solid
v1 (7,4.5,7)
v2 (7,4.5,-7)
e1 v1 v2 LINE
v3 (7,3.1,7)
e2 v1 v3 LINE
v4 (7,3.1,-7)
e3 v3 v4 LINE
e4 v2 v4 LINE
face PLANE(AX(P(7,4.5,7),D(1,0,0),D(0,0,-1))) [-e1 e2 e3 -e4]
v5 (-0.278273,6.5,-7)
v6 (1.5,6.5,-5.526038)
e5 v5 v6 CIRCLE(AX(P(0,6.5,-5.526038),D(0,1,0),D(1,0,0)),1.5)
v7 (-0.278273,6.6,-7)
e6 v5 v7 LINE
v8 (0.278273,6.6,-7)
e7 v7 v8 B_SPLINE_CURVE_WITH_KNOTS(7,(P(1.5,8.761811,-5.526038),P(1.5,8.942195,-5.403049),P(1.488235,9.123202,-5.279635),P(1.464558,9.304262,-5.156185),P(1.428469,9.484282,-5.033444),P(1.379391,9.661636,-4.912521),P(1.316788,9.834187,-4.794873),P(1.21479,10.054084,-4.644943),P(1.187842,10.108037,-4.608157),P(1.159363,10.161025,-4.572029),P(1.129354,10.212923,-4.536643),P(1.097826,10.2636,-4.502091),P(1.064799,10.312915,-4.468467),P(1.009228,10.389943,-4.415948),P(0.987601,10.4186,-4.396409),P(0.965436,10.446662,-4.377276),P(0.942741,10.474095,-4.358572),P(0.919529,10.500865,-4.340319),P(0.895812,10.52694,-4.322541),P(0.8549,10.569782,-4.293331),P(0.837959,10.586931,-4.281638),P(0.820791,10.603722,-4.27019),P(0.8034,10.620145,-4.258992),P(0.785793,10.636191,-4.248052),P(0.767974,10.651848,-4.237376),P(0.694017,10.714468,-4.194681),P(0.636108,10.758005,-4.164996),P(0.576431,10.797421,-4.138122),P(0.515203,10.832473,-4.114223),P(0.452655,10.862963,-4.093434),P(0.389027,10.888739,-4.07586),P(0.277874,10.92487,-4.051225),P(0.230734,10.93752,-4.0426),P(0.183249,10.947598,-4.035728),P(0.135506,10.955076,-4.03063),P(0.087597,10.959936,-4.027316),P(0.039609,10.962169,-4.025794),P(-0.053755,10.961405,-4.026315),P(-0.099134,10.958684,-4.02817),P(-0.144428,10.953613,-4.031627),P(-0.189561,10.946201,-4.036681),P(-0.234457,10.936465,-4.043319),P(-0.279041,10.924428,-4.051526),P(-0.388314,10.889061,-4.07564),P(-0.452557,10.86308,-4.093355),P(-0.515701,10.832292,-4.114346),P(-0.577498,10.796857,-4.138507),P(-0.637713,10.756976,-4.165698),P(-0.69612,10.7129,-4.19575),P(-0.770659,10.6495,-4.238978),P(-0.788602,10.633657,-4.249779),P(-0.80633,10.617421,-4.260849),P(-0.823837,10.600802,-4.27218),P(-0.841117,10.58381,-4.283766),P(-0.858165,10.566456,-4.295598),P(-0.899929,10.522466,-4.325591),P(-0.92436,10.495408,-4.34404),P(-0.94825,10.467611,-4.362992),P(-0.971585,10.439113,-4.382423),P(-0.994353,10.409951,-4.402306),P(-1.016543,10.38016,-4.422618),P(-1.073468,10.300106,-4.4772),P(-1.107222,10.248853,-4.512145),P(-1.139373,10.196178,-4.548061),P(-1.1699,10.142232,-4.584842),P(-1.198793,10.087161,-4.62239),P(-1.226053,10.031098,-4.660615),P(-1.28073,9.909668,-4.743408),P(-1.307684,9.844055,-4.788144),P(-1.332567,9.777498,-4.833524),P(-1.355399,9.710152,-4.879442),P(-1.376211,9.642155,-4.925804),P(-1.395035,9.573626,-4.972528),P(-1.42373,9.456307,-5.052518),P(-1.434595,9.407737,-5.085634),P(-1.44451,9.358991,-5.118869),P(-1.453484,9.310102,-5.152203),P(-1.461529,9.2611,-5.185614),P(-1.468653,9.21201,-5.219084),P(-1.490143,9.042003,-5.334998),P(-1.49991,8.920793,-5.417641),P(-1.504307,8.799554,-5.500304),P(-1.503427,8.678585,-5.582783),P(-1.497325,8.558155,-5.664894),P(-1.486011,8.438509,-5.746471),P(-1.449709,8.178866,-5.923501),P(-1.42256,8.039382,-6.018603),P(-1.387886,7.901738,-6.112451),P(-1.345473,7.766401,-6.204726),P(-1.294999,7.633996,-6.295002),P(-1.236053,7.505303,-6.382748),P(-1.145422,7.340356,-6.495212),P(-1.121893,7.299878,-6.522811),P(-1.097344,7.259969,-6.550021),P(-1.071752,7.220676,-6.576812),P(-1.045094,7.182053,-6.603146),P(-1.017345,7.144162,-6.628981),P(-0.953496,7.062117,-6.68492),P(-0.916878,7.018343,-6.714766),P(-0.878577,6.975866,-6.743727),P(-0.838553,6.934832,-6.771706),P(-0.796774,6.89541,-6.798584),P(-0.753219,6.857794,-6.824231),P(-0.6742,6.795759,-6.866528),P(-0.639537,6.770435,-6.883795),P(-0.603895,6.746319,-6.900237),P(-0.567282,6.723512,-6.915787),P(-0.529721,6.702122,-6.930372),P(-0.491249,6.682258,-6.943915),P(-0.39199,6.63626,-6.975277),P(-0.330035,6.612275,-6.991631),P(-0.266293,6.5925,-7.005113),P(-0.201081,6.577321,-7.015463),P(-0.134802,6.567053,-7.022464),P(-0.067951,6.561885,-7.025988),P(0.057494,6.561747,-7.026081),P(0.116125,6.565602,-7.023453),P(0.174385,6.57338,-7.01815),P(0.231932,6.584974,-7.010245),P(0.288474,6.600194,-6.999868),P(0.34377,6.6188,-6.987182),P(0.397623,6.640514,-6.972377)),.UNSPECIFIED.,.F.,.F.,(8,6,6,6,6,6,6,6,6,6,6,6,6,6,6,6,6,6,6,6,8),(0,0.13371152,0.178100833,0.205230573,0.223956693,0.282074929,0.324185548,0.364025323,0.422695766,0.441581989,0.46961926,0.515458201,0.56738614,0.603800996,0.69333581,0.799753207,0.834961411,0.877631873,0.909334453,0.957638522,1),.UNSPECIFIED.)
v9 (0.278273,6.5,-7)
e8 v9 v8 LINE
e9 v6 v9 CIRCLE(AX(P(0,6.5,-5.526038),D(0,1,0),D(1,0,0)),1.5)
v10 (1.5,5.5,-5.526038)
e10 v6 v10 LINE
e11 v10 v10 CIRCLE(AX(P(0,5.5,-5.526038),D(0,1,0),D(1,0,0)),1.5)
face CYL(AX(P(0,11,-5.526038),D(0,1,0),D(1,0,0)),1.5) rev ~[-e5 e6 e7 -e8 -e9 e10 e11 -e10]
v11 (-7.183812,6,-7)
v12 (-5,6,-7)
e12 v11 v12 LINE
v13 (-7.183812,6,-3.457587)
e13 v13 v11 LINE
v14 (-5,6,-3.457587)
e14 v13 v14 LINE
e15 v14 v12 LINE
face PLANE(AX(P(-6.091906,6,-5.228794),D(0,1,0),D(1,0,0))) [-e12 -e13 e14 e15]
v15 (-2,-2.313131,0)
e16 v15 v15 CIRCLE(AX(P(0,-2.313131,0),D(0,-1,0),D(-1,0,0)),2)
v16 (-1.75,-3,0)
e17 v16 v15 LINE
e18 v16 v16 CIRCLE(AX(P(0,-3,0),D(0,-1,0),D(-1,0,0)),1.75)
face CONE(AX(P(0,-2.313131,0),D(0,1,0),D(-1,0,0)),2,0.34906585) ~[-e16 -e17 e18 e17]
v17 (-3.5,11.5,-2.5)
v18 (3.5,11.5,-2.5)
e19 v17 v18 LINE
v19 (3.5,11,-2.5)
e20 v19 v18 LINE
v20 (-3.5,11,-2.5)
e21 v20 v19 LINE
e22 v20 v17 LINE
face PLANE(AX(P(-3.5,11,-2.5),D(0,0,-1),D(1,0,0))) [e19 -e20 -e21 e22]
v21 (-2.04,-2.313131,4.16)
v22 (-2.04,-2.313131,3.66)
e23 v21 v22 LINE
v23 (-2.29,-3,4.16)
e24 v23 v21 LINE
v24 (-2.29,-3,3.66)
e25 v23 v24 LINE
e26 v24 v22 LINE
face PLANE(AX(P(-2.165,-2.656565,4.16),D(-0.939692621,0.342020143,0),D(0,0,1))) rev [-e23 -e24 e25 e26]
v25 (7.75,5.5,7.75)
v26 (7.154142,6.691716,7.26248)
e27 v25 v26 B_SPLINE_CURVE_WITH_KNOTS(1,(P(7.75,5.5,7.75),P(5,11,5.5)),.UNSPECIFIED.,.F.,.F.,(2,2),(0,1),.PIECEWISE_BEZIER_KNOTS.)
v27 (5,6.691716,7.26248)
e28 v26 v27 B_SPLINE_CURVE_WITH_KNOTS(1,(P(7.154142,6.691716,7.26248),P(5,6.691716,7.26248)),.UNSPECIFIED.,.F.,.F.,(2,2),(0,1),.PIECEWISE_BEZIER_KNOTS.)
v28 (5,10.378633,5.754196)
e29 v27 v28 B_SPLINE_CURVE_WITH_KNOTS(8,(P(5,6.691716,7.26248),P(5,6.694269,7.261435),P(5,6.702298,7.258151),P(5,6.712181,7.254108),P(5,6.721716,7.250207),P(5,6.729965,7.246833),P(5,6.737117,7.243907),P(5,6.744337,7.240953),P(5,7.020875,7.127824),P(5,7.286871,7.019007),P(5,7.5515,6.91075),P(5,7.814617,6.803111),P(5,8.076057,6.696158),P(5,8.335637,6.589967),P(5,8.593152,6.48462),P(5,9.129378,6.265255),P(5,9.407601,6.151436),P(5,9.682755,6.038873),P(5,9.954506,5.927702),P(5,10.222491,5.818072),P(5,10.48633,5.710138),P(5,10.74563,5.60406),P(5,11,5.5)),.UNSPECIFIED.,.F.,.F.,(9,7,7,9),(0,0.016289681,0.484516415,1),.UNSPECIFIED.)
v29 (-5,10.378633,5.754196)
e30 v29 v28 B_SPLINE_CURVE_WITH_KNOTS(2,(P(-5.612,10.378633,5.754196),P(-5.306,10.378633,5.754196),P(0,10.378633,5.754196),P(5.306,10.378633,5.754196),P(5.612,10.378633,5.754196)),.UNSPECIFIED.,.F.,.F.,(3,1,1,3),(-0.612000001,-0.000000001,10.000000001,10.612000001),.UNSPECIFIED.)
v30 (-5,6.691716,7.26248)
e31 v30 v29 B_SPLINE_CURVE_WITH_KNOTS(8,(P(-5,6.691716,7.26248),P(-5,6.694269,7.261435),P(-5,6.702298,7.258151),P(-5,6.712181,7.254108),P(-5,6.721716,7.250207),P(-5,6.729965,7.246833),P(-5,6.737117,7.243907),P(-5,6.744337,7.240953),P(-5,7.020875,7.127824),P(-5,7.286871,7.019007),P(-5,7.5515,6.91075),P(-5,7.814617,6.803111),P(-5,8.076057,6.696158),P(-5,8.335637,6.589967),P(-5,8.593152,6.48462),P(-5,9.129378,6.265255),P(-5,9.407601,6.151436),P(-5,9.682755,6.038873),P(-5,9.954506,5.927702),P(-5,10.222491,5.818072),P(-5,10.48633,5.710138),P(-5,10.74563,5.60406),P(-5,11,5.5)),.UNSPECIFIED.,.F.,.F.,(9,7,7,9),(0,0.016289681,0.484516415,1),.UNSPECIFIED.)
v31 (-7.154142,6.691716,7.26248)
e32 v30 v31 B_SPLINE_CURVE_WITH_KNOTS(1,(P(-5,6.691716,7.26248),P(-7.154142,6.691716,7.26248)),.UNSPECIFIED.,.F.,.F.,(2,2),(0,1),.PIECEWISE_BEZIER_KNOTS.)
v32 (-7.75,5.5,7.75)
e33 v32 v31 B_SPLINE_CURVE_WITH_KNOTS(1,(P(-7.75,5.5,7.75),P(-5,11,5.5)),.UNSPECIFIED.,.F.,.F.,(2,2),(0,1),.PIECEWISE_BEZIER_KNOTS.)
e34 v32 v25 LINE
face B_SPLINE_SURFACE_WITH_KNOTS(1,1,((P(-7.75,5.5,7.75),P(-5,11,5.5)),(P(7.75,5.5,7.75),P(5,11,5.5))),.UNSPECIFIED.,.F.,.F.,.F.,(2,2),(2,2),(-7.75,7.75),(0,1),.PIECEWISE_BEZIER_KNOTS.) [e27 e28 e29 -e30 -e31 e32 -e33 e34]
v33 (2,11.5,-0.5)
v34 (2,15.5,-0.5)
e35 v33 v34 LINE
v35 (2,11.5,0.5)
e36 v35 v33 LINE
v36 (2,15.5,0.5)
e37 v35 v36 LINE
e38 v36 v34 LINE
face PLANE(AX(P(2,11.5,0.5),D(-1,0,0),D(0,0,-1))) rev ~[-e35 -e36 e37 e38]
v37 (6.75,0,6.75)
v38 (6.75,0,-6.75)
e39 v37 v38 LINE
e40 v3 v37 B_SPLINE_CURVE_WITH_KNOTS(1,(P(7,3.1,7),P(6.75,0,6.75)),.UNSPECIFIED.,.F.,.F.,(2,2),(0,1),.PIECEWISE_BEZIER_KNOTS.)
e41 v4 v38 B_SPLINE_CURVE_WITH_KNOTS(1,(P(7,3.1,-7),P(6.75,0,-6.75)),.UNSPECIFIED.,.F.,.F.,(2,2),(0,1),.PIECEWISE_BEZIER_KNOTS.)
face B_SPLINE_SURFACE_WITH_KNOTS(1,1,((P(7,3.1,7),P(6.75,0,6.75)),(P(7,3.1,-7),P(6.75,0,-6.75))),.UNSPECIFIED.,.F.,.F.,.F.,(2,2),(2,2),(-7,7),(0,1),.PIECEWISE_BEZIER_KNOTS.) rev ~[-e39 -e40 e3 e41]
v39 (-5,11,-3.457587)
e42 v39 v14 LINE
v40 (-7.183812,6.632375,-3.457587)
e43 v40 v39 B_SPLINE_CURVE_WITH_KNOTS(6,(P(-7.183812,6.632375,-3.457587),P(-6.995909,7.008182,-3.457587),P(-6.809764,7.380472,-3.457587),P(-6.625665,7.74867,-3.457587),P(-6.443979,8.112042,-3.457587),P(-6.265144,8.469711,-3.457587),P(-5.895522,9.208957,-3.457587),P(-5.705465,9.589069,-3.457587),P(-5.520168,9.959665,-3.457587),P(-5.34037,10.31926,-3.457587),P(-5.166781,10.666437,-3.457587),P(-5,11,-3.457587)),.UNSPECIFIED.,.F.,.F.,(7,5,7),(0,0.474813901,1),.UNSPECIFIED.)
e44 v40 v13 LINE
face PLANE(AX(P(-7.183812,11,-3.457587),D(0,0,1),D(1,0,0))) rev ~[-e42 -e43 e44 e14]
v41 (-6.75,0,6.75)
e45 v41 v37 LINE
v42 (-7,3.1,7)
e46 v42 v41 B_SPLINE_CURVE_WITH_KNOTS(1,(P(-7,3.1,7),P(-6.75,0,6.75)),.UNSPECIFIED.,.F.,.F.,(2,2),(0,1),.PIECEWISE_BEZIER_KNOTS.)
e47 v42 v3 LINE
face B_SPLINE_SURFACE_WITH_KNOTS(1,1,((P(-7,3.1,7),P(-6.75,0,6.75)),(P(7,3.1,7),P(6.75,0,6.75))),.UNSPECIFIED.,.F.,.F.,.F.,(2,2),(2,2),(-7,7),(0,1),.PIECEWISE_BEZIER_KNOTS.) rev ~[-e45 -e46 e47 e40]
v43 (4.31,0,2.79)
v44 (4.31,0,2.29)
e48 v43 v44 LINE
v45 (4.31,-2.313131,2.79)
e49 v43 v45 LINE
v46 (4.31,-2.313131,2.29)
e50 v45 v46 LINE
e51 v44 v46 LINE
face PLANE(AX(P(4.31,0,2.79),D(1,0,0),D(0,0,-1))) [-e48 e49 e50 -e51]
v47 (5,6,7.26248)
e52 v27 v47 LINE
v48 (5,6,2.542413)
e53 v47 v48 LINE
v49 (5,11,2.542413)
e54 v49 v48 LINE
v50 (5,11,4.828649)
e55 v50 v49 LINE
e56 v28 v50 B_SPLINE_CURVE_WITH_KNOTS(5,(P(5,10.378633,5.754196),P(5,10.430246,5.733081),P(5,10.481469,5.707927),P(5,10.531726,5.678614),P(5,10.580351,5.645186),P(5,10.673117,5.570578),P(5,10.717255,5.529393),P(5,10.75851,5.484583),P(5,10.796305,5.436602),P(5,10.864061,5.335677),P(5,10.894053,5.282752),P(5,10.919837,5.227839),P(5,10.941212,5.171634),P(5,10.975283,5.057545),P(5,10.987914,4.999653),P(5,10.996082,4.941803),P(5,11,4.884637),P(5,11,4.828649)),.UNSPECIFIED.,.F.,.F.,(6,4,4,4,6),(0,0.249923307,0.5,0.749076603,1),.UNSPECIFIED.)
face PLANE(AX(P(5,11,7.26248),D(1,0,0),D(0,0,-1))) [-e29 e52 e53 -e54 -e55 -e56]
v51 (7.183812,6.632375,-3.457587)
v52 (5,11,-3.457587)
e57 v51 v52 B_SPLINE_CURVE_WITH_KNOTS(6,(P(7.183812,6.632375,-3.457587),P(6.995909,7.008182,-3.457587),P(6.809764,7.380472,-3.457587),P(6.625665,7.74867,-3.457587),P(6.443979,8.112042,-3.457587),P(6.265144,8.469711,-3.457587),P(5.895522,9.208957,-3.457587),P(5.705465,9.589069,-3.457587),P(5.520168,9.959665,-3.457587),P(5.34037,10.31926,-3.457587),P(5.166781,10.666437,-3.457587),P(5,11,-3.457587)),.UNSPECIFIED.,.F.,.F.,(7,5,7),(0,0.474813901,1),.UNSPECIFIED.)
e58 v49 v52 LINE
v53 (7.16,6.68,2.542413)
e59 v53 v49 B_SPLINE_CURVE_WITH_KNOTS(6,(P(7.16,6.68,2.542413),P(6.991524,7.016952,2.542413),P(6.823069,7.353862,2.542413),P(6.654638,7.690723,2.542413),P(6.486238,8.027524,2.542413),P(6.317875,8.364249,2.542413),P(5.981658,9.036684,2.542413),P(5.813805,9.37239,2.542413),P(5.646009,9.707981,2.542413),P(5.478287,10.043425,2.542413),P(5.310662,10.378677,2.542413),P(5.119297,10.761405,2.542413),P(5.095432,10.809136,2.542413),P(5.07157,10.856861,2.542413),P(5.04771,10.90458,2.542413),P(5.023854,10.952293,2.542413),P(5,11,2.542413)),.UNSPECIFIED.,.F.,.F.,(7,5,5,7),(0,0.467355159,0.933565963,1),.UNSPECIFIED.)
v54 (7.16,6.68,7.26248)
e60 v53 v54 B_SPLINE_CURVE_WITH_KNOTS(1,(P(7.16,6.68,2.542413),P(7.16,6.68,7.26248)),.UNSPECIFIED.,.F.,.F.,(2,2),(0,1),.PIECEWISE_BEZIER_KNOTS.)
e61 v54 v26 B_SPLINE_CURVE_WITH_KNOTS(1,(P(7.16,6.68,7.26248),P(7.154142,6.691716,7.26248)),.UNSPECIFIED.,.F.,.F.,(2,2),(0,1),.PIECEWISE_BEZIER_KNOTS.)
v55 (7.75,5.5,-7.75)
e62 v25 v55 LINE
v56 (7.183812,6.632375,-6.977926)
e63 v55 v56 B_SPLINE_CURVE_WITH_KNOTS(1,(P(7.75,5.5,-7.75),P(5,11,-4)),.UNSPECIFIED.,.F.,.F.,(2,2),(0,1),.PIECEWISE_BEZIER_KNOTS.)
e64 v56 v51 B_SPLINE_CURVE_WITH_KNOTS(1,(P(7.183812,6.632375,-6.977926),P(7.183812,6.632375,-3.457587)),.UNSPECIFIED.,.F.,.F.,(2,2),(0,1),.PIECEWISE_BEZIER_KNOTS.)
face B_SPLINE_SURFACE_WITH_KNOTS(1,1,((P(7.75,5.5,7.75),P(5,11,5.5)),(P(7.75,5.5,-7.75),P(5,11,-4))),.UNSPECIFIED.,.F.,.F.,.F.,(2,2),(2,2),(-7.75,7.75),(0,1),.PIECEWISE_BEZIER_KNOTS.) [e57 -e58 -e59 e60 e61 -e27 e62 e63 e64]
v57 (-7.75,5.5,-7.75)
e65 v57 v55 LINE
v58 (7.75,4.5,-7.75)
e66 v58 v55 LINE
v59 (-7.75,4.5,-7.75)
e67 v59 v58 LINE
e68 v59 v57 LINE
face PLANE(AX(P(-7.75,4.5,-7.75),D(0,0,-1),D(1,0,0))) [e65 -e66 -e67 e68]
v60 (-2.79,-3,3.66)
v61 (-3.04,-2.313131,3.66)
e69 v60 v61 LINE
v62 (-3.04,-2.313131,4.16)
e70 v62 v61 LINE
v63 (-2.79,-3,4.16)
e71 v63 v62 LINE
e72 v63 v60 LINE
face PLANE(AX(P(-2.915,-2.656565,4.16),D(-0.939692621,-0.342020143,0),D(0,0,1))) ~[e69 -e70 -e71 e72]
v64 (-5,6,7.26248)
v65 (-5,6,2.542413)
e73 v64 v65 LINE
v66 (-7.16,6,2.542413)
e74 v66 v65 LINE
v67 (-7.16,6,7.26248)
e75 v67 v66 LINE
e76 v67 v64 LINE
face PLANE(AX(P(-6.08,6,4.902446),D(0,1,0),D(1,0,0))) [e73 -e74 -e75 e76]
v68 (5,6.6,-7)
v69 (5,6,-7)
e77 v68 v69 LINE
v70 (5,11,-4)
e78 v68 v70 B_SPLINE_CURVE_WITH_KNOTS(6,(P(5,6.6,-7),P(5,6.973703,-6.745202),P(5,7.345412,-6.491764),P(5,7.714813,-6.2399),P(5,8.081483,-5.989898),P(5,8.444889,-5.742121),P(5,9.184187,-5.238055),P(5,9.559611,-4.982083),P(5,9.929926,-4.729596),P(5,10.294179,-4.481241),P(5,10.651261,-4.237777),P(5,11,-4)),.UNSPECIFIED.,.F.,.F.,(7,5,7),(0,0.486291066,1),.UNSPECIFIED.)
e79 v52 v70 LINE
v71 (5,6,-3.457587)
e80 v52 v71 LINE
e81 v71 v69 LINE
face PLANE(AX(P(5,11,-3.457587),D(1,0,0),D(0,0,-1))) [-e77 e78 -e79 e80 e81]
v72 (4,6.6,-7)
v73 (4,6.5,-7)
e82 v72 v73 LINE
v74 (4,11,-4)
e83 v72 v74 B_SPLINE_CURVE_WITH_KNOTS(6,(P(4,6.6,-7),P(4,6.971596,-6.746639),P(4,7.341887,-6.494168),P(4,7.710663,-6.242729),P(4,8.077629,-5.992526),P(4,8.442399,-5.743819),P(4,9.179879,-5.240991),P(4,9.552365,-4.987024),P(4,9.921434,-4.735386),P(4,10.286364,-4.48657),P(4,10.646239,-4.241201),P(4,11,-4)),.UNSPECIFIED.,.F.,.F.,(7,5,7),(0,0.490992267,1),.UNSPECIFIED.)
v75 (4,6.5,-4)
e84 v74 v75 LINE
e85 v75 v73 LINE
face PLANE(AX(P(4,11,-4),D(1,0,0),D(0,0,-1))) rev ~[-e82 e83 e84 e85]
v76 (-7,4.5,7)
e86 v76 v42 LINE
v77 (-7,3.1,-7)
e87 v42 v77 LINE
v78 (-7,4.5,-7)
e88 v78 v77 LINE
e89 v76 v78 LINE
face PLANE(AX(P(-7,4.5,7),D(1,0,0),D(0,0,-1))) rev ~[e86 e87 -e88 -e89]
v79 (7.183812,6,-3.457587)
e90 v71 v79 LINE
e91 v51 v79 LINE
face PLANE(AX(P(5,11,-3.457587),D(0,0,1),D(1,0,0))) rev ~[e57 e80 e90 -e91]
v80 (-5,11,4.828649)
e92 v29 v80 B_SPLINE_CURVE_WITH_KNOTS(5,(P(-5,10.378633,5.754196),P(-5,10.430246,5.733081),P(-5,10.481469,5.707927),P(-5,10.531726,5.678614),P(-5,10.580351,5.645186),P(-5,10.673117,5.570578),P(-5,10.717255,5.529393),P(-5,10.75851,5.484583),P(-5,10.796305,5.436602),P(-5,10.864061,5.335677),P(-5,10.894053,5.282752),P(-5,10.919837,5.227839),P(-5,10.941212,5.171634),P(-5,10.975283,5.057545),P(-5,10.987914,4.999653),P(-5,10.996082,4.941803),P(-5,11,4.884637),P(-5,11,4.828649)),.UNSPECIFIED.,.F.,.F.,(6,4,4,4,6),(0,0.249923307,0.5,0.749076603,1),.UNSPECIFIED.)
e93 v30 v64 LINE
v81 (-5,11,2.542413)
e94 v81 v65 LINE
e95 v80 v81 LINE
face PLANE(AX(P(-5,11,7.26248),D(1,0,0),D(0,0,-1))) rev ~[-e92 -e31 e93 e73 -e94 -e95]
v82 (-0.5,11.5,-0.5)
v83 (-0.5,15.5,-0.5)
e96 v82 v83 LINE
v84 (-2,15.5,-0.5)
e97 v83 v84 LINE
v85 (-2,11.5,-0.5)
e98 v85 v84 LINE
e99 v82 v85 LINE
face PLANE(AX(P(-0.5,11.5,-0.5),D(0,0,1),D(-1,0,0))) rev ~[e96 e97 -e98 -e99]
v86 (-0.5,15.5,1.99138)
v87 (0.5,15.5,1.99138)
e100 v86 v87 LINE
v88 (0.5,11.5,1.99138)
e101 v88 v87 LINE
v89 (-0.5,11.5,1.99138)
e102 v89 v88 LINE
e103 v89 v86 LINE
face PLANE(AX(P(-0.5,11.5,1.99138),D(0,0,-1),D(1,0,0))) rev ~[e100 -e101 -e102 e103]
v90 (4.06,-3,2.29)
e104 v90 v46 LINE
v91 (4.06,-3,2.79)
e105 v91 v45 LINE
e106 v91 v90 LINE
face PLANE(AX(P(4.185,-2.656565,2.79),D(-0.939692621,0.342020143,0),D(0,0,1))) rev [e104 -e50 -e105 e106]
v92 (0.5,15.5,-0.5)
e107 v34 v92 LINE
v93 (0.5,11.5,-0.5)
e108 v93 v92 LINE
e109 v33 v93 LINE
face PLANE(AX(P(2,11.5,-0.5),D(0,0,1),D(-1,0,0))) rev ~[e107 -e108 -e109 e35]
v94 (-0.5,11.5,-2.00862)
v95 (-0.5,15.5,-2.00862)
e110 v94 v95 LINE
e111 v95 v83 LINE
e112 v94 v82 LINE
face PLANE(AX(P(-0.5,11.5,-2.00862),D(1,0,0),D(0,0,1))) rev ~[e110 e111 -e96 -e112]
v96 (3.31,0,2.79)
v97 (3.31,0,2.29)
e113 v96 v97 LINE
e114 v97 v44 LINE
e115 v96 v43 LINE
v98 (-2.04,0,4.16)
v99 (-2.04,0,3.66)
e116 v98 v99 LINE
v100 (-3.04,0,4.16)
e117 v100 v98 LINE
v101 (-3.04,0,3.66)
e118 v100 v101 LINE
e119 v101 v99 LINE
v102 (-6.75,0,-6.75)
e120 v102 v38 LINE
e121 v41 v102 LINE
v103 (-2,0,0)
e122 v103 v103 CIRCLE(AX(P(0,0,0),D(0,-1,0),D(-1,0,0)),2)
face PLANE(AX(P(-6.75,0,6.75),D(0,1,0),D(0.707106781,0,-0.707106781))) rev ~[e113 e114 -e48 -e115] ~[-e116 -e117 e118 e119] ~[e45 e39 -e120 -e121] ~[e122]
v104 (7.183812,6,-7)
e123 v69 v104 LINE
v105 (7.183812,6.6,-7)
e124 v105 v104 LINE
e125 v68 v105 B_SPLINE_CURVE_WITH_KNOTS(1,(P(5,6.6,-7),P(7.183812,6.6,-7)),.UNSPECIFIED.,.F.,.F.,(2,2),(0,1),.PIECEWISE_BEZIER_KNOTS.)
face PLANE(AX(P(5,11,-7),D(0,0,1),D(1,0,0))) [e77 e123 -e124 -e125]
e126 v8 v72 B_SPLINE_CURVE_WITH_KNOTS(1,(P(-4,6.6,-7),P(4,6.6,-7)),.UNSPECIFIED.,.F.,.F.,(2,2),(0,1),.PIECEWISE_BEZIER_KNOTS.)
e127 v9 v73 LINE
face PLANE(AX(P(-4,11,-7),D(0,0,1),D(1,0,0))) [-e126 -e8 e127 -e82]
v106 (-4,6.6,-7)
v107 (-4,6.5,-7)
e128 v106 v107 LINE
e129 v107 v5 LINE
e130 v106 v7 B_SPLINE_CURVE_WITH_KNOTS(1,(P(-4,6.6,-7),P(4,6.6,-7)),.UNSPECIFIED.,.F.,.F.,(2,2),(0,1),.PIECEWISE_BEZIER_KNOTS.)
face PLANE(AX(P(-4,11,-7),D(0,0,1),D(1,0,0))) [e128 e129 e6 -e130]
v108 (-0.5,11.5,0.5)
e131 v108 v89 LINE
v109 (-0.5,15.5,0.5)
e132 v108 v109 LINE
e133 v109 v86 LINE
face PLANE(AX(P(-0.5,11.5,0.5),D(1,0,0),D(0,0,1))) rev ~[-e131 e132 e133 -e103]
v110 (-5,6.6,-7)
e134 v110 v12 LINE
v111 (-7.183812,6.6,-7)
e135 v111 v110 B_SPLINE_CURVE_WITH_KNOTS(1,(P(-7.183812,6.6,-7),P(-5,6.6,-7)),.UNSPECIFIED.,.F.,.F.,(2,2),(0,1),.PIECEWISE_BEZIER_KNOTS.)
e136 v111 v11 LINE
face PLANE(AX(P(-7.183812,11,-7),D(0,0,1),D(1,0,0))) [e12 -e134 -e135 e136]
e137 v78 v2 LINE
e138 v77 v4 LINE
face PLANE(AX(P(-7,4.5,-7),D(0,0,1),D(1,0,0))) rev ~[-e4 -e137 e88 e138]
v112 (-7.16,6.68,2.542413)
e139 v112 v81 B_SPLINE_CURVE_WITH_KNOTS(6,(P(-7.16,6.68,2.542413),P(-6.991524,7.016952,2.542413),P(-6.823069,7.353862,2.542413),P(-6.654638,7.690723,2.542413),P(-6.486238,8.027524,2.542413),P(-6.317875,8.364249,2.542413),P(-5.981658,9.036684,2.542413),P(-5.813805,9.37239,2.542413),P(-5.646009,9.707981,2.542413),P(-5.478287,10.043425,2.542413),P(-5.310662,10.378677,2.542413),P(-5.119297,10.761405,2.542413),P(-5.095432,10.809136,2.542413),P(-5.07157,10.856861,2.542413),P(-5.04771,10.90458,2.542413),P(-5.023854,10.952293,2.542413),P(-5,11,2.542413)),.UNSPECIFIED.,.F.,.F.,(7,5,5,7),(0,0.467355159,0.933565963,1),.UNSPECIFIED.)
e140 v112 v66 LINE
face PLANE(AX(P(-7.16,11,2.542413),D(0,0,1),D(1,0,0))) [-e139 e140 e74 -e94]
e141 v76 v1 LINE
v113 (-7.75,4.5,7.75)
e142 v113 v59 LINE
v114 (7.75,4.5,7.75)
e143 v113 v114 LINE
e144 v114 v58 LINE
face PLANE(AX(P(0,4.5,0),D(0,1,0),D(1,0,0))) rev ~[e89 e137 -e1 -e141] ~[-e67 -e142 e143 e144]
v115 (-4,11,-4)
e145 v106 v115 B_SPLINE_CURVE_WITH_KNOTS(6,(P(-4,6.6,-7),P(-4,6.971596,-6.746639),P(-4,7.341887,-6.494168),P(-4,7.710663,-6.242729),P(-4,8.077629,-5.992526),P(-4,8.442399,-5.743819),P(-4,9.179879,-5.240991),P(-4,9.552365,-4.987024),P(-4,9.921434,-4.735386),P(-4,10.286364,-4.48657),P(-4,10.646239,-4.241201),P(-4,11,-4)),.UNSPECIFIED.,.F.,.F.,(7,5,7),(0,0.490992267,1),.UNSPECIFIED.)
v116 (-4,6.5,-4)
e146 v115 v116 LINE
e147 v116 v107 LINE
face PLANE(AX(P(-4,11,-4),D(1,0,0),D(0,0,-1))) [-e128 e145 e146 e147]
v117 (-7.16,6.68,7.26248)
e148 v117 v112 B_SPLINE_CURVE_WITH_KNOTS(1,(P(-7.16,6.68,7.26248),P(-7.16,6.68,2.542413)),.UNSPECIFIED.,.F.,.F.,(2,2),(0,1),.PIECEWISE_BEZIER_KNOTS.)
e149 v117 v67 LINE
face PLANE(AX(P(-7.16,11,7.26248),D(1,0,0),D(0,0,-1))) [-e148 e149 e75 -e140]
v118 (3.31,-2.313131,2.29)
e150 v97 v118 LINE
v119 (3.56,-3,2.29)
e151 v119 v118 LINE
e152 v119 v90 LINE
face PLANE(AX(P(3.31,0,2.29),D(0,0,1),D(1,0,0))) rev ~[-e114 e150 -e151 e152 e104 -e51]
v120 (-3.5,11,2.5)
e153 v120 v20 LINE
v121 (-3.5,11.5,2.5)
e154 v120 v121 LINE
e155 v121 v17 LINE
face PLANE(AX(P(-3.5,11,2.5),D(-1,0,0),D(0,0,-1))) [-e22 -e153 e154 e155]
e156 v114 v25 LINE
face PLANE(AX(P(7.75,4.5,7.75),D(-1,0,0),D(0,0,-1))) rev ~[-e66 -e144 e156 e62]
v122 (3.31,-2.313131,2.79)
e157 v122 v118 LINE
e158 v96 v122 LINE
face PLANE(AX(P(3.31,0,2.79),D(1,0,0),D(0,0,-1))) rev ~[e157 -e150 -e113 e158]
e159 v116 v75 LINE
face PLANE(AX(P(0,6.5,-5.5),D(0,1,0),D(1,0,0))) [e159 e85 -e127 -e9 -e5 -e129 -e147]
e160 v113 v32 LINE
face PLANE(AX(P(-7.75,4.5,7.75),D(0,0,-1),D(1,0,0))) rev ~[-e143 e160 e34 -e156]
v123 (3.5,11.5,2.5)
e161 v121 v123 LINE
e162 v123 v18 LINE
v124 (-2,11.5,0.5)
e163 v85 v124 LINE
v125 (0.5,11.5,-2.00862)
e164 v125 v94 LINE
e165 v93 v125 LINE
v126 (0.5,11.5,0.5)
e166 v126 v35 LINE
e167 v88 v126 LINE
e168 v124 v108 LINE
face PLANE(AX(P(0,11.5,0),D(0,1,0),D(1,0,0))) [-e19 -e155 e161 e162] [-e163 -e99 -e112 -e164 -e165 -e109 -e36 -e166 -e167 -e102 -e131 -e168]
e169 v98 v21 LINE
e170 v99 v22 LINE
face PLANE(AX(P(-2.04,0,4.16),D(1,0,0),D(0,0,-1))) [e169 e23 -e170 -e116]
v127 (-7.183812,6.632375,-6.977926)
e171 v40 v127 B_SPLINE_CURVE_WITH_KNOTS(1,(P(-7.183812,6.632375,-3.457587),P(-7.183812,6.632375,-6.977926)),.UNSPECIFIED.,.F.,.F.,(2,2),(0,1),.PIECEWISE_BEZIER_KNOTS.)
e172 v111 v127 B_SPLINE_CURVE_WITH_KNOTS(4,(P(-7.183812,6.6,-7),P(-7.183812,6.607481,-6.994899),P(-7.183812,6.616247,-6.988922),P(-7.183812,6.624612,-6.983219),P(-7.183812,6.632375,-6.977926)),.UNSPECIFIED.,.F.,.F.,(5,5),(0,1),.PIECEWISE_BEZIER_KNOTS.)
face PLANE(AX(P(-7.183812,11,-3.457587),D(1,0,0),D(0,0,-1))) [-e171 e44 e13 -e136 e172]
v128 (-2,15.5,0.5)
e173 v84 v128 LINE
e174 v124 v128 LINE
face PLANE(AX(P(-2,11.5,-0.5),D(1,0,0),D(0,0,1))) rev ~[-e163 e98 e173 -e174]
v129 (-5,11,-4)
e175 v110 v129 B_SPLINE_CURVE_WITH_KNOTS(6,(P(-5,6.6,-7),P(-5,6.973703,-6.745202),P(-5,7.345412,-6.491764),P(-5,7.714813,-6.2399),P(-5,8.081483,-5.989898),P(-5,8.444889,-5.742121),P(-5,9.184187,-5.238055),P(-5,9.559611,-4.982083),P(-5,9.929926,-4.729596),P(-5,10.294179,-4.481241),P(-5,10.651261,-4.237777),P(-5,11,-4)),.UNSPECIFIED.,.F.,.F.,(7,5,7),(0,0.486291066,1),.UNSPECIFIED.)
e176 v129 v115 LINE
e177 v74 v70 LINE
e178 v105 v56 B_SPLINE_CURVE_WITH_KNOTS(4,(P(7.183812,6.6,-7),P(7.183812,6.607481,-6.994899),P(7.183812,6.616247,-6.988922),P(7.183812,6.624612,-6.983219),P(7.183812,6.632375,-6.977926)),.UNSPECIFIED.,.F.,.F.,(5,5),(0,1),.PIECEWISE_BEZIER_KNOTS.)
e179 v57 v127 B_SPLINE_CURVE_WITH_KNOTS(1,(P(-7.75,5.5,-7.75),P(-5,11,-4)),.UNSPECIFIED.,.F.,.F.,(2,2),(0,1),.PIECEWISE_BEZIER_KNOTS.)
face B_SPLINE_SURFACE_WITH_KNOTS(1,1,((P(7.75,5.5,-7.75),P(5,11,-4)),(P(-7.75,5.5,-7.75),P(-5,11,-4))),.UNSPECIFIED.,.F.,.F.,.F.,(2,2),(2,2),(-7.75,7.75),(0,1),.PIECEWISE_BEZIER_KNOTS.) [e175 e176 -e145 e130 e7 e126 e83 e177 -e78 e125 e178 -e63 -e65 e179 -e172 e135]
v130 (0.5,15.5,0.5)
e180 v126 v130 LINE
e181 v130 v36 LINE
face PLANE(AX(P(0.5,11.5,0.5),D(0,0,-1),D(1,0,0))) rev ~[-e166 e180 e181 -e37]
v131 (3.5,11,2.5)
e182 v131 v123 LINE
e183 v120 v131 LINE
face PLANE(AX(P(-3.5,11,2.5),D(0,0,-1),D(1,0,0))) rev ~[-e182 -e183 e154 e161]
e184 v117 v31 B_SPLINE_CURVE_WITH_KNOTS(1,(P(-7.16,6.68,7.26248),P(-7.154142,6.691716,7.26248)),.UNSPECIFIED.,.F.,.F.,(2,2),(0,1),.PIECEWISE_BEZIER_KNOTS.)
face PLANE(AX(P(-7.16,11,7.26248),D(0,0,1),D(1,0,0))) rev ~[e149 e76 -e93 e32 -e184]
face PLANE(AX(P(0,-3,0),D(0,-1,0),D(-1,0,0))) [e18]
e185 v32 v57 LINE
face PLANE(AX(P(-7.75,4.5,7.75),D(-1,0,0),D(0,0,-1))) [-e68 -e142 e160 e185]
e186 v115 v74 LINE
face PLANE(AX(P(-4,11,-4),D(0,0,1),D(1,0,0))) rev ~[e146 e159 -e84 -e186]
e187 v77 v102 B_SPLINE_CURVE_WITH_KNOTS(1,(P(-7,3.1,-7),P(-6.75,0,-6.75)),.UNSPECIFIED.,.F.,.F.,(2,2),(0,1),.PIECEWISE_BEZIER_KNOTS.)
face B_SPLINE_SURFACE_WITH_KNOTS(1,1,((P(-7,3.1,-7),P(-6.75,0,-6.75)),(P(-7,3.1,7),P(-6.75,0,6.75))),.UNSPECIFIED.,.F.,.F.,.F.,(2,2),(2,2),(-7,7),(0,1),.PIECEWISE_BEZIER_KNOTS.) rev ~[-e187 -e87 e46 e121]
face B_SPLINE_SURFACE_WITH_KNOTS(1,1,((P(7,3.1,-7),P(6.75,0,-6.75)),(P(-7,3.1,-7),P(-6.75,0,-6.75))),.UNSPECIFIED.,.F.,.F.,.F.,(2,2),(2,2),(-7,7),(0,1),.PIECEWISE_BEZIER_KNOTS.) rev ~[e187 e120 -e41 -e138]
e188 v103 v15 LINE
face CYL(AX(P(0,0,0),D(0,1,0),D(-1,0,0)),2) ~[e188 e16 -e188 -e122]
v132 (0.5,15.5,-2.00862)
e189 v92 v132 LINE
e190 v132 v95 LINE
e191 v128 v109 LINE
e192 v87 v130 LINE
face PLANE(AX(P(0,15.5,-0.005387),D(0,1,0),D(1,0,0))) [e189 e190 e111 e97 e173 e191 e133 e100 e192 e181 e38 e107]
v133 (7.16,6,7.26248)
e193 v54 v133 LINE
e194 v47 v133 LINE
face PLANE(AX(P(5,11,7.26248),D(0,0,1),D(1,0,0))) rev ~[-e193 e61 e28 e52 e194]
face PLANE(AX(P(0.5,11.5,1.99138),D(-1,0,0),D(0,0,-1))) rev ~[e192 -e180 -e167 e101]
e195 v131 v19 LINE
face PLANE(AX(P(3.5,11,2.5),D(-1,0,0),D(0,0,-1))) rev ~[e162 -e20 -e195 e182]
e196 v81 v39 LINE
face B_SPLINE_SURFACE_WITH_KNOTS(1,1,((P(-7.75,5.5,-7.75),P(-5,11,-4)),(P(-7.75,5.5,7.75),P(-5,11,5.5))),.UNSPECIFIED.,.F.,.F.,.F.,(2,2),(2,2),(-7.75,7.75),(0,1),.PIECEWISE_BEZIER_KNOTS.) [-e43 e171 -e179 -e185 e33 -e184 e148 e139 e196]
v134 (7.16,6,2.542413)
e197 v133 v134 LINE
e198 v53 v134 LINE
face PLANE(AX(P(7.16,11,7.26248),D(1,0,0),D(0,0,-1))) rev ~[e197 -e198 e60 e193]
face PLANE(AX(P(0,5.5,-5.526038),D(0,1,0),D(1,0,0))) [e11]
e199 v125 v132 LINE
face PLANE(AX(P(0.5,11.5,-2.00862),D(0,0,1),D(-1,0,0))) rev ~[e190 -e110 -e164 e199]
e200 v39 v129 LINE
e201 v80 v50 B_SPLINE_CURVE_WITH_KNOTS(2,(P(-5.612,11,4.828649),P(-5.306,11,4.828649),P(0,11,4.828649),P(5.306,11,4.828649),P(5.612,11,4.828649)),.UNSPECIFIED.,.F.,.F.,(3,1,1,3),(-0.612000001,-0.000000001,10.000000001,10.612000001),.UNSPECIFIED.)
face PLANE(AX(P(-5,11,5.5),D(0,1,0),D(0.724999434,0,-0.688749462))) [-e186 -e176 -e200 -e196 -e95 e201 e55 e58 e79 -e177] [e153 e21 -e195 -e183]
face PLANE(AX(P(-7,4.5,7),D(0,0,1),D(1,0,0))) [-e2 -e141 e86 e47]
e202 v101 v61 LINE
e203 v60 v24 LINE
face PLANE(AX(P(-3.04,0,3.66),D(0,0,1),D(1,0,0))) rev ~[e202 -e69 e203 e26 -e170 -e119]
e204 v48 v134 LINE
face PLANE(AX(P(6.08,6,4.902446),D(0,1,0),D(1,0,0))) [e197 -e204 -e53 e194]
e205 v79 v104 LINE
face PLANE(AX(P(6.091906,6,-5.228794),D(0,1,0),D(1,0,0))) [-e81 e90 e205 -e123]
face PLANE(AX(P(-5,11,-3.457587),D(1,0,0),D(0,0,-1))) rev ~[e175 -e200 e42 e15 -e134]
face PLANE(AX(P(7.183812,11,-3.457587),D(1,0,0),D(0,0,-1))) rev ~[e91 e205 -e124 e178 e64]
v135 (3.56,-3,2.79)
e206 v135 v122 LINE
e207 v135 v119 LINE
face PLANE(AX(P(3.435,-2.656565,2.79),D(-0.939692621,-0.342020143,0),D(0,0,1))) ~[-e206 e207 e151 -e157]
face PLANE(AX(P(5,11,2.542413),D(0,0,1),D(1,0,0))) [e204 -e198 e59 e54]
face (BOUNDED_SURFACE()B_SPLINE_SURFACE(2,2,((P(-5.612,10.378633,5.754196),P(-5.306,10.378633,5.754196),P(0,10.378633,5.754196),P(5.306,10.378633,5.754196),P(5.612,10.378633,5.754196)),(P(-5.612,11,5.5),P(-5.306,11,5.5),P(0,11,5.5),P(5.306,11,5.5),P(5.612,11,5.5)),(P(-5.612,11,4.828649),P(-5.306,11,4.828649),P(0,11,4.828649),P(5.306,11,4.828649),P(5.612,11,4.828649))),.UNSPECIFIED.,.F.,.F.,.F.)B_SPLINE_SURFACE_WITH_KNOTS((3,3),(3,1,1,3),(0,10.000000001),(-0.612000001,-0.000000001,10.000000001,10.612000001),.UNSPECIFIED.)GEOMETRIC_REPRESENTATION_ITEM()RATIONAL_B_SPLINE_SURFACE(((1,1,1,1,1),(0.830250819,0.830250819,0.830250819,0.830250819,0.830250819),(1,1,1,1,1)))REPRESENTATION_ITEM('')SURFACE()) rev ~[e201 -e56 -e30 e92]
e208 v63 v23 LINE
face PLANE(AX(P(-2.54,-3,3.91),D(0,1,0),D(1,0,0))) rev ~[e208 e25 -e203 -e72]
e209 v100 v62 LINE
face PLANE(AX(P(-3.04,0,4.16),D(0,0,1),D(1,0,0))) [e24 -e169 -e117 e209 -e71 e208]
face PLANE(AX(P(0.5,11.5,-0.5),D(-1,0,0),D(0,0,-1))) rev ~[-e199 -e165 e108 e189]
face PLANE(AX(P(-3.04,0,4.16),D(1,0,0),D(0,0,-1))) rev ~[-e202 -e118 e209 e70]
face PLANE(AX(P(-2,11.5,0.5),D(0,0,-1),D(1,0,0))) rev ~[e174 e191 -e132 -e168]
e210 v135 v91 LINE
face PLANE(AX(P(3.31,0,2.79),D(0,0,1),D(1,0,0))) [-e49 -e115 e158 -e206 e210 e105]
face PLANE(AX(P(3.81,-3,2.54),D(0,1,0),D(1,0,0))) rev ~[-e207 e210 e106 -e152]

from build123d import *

# Parameters (mm, degrees)
SKETCH_2_W           = 14
SKETCH_2_H           = 14
EXTRUDE_1_DEPTH      = 1.4
SKETCH_1_W           = 13.5
SKETCH_1_H           = 13.5
SKETCH_8_W           = 15.5
SKETCH_8_H           = 15.5
EXTRUDE_2_DEPTH      = 1
SKETCH_10_W          = 10
SKETCH_10_H          = 9.5
SKETCH_12_W          = 7
SKETCH_12_H          = 5
EXTRUDE_3_DEPTH      = 0.5
EXTRUDE_5_DEPTH      = 4
SKETCH_16_R          = 2
EXTRUDE_6_DEPTH      = 3
CHAMFER_1_SIZE       = 0.25
CHAMFER_1_SIZE2      = 0.686869355
SKETCH_18_W          = 8
SKETCH_18_H          = 3
CUT_EXTRUDE_1_DEPTH  = 4.5
SKETCH_20_W          = 2.183812488
SKETCH_20_H          = 3.542412762
CUT_EXTRUDE_9_DEPTH  = 5
SKETCH_23_W          = 2.16
SKETCH_23_H          = 4.720066995
CUT_EXTRUDE_10_DEPTH = 5
SKETCH_26_R          = 1.5
CUT_EXTRUDE_12_DEPTH = 5.5
SKETCH_27_W          = 1
SKETCH_27_H          = 0.5
EXTRUDE_7_DEPTH      = 3
CHAMFER_2_SIZE       = 0.25
CHAMFER_2_SIZE2      = 0.686869355
CHAMFER_3_SIZE       = 0.25
CHAMFER_3_SIZE2      = 0.686869355
FILLET_1_R           = 1


with BuildPart() as part:
    # 草图2 → 凸台-拉伸1 (new body)
    with BuildSketch(Plane(origin=(0, 4.5, 0), x_dir=(1, 0, 0), z_dir=(0, 1, 0))):
        Rectangle(SKETCH_2_W, SKETCH_2_H)
    extrude(amount=-EXTRUDE_1_DEPTH)

    # 草图1 → section 1 of loft_2
    with BuildSketch(Plane(origin=(0, 0, 0), x_dir=(1, 0, 0), z_dir=(0, 1, 0)), mode=Mode.PRIVATE) as loft_2_s1:
        Rectangle(SKETCH_1_W, SKETCH_1_H)
    # loft from a face of the part (loft_2)
    loft([part.faces().sort_by_distance((0, 3.1, 0))[0], loft_2_s1.sketch])

    # 草图8 → 凸台-拉伸2 (add)
    with BuildSketch(Plane(origin=(0, 4.5, 0), x_dir=(1, 0, 0), z_dir=(0, 1, 0))):
        Rectangle(SKETCH_8_W, SKETCH_8_H)
    extrude(amount=EXTRUDE_2_DEPTH)

    # 草图10 → section 1 of loft_6
    with BuildSketch(Plane(origin=(0, 11, 0), x_dir=(1, 0, 0), z_dir=(0, 1, 0)), mode=Mode.PRIVATE) as loft_6_s1:
        with Locations((0, -0.75)):
            Rectangle(SKETCH_10_W, SKETCH_10_H)
    # loft from a face of the part (loft_6)
    loft([part.faces().sort_by_distance((0, 5.5, 0))[0], loft_6_s1.sketch])

    # 草图12 → 凸台-拉伸3 (add)
    with BuildSketch(Plane(origin=(0, 11, 0), x_dir=(1, 0, 0), z_dir=(0, 1, 0))):
        Rectangle(SKETCH_12_W, SKETCH_12_H)
    extrude(amount=EXTRUDE_3_DEPTH)

    # 草图14 → 凸台-拉伸5 (add)
    with BuildSketch(Plane(origin=(0, 11.5, 0), x_dir=(1, 0, 0), z_dir=(0, 1, 0))):
        Polygon((0.5, -0.5), (2, -0.5), (2, 0.5), (0.5, 0.5), (0.5, 2.008619841), (-0.5, 2.008619841), (-0.5, 0.5), (-2, 0.5), (-2, -0.5), (-0.5, -0.5), (-0.5, -1.991380159), (0.5, -1.991380159), align=None)
    extrude(amount=EXTRUDE_5_DEPTH)

    # 草图16 → 凸台-拉伸6 (add)
    with BuildSketch(Plane(origin=(0, 0, 0), x_dir=(-1, 0, 0), z_dir=(0, -1, 0))):
        Circle(SKETCH_16_R)
    extrude(amount=EXTRUDE_6_DEPTH)

    # 倒角1
    chamfer_1_edges = [part.edges().sort_by_distance(p)[0] for p in [
        (2, -3, 0),
    ]]
    chamfer_1_side = [part.faces().sort_by_distance(p)[0] for p in [
        (0, -3, 0),
    ]]
    chamfer(chamfer_1_edges, length=CHAMFER_1_SIZE, length2=CHAMFER_1_SIZE2, reference=chamfer_1_side[0])

    # 草图18 → 切除-拉伸1 (cut)
    with BuildSketch(Plane(origin=(0, 11, 0), x_dir=(1, 0, 0), z_dir=(0, 1, 0))):
        with Locations((0, 5.5)):
            Rectangle(SKETCH_18_W, SKETCH_18_H)
    extrude(amount=-CUT_EXTRUDE_1_DEPTH, mode=Mode.SUBTRACT)

    # 草图20 → 切除-拉伸9 (cut)
    with BuildSketch(Plane(origin=(0, 11, 0), x_dir=(1, 0, 0), z_dir=(0, 1, 0))):
        with Locations((6.091906244, 5.228793619)):
            Rectangle(SKETCH_20_W, SKETCH_20_H)
        with Locations((-6.091906244, 5.228793619)):
            Rectangle(SKETCH_20_W, SKETCH_20_H)
    extrude(amount=-CUT_EXTRUDE_9_DEPTH, mode=Mode.SUBTRACT)

    # 草图23 → 切除-拉伸10 (cut)
    with BuildSketch(Plane(origin=(0, 11, 0), x_dir=(1, 0, 0), z_dir=(0, 1, 0))):
        with Locations((6.08, -4.90244626)):
            Rectangle(SKETCH_23_W, SKETCH_23_H)
        with Locations((-6.08, -4.90244626)):
            Rectangle(SKETCH_23_W, SKETCH_23_H)
    extrude(amount=-CUT_EXTRUDE_10_DEPTH, mode=Mode.SUBTRACT)

    # 草图26 → 切除-拉伸12 (cut)
    with BuildSketch(Plane(origin=(0, 11, 0), x_dir=(1, 0, 0), z_dir=(0, 1, 0))):
        with Locations((0, 5.526038024)):
            Circle(SKETCH_26_R)
    extrude(amount=-CUT_EXTRUDE_12_DEPTH, mode=Mode.SUBTRACT)

    # 草图27 → 凸台-拉伸7 (add)
    with BuildSketch(Plane(origin=(0, 0, 0), x_dir=(1, 0, 0), z_dir=(0, 1, 0))):
        with Locations((-2.54, -3.91)):
            Rectangle(SKETCH_27_W, SKETCH_27_H)
        with Locations((3.81, -2.54)):
            Rectangle(SKETCH_27_W, SKETCH_27_H)
    extrude(amount=-EXTRUDE_7_DEPTH)

    # 倒角2
    chamfer_2_edges = [part.edges().sort_by_distance(p)[0] for p in [
        (4.31, -3, 2.54),
        (3.31, -3, 2.54),
    ]]
    chamfer_2_side = [part.faces().sort_by_distance(p)[0] for p in [
        (3.81, -3, 2.54),
    ]]
    chamfer(chamfer_2_edges, length=CHAMFER_2_SIZE, length2=CHAMFER_2_SIZE2, reference=chamfer_2_side[0])

    # 倒角3
    chamfer_3_edges = [part.edges().sort_by_distance(p)[0] for p in [
        (-2.04, -3, 3.91),
        (-3.04, -3, 3.91),
    ]]
    chamfer_3_side = [part.faces().sort_by_distance(p)[0] for p in [
        (-2.54, -3, 3.91),
    ]]
    chamfer(chamfer_3_edges, length=CHAMFER_3_SIZE, length2=CHAMFER_3_SIZE2, reference=chamfer_3_side[0])

    # 圆角1
    fillet_1_edges = [part.edges().sort_by_distance(p)[0] for p in [
        (0, 11, 5.5),
    ]]
    fillet(fillet_1_edges, radius=FILLET_1_R)


solid = part.part
